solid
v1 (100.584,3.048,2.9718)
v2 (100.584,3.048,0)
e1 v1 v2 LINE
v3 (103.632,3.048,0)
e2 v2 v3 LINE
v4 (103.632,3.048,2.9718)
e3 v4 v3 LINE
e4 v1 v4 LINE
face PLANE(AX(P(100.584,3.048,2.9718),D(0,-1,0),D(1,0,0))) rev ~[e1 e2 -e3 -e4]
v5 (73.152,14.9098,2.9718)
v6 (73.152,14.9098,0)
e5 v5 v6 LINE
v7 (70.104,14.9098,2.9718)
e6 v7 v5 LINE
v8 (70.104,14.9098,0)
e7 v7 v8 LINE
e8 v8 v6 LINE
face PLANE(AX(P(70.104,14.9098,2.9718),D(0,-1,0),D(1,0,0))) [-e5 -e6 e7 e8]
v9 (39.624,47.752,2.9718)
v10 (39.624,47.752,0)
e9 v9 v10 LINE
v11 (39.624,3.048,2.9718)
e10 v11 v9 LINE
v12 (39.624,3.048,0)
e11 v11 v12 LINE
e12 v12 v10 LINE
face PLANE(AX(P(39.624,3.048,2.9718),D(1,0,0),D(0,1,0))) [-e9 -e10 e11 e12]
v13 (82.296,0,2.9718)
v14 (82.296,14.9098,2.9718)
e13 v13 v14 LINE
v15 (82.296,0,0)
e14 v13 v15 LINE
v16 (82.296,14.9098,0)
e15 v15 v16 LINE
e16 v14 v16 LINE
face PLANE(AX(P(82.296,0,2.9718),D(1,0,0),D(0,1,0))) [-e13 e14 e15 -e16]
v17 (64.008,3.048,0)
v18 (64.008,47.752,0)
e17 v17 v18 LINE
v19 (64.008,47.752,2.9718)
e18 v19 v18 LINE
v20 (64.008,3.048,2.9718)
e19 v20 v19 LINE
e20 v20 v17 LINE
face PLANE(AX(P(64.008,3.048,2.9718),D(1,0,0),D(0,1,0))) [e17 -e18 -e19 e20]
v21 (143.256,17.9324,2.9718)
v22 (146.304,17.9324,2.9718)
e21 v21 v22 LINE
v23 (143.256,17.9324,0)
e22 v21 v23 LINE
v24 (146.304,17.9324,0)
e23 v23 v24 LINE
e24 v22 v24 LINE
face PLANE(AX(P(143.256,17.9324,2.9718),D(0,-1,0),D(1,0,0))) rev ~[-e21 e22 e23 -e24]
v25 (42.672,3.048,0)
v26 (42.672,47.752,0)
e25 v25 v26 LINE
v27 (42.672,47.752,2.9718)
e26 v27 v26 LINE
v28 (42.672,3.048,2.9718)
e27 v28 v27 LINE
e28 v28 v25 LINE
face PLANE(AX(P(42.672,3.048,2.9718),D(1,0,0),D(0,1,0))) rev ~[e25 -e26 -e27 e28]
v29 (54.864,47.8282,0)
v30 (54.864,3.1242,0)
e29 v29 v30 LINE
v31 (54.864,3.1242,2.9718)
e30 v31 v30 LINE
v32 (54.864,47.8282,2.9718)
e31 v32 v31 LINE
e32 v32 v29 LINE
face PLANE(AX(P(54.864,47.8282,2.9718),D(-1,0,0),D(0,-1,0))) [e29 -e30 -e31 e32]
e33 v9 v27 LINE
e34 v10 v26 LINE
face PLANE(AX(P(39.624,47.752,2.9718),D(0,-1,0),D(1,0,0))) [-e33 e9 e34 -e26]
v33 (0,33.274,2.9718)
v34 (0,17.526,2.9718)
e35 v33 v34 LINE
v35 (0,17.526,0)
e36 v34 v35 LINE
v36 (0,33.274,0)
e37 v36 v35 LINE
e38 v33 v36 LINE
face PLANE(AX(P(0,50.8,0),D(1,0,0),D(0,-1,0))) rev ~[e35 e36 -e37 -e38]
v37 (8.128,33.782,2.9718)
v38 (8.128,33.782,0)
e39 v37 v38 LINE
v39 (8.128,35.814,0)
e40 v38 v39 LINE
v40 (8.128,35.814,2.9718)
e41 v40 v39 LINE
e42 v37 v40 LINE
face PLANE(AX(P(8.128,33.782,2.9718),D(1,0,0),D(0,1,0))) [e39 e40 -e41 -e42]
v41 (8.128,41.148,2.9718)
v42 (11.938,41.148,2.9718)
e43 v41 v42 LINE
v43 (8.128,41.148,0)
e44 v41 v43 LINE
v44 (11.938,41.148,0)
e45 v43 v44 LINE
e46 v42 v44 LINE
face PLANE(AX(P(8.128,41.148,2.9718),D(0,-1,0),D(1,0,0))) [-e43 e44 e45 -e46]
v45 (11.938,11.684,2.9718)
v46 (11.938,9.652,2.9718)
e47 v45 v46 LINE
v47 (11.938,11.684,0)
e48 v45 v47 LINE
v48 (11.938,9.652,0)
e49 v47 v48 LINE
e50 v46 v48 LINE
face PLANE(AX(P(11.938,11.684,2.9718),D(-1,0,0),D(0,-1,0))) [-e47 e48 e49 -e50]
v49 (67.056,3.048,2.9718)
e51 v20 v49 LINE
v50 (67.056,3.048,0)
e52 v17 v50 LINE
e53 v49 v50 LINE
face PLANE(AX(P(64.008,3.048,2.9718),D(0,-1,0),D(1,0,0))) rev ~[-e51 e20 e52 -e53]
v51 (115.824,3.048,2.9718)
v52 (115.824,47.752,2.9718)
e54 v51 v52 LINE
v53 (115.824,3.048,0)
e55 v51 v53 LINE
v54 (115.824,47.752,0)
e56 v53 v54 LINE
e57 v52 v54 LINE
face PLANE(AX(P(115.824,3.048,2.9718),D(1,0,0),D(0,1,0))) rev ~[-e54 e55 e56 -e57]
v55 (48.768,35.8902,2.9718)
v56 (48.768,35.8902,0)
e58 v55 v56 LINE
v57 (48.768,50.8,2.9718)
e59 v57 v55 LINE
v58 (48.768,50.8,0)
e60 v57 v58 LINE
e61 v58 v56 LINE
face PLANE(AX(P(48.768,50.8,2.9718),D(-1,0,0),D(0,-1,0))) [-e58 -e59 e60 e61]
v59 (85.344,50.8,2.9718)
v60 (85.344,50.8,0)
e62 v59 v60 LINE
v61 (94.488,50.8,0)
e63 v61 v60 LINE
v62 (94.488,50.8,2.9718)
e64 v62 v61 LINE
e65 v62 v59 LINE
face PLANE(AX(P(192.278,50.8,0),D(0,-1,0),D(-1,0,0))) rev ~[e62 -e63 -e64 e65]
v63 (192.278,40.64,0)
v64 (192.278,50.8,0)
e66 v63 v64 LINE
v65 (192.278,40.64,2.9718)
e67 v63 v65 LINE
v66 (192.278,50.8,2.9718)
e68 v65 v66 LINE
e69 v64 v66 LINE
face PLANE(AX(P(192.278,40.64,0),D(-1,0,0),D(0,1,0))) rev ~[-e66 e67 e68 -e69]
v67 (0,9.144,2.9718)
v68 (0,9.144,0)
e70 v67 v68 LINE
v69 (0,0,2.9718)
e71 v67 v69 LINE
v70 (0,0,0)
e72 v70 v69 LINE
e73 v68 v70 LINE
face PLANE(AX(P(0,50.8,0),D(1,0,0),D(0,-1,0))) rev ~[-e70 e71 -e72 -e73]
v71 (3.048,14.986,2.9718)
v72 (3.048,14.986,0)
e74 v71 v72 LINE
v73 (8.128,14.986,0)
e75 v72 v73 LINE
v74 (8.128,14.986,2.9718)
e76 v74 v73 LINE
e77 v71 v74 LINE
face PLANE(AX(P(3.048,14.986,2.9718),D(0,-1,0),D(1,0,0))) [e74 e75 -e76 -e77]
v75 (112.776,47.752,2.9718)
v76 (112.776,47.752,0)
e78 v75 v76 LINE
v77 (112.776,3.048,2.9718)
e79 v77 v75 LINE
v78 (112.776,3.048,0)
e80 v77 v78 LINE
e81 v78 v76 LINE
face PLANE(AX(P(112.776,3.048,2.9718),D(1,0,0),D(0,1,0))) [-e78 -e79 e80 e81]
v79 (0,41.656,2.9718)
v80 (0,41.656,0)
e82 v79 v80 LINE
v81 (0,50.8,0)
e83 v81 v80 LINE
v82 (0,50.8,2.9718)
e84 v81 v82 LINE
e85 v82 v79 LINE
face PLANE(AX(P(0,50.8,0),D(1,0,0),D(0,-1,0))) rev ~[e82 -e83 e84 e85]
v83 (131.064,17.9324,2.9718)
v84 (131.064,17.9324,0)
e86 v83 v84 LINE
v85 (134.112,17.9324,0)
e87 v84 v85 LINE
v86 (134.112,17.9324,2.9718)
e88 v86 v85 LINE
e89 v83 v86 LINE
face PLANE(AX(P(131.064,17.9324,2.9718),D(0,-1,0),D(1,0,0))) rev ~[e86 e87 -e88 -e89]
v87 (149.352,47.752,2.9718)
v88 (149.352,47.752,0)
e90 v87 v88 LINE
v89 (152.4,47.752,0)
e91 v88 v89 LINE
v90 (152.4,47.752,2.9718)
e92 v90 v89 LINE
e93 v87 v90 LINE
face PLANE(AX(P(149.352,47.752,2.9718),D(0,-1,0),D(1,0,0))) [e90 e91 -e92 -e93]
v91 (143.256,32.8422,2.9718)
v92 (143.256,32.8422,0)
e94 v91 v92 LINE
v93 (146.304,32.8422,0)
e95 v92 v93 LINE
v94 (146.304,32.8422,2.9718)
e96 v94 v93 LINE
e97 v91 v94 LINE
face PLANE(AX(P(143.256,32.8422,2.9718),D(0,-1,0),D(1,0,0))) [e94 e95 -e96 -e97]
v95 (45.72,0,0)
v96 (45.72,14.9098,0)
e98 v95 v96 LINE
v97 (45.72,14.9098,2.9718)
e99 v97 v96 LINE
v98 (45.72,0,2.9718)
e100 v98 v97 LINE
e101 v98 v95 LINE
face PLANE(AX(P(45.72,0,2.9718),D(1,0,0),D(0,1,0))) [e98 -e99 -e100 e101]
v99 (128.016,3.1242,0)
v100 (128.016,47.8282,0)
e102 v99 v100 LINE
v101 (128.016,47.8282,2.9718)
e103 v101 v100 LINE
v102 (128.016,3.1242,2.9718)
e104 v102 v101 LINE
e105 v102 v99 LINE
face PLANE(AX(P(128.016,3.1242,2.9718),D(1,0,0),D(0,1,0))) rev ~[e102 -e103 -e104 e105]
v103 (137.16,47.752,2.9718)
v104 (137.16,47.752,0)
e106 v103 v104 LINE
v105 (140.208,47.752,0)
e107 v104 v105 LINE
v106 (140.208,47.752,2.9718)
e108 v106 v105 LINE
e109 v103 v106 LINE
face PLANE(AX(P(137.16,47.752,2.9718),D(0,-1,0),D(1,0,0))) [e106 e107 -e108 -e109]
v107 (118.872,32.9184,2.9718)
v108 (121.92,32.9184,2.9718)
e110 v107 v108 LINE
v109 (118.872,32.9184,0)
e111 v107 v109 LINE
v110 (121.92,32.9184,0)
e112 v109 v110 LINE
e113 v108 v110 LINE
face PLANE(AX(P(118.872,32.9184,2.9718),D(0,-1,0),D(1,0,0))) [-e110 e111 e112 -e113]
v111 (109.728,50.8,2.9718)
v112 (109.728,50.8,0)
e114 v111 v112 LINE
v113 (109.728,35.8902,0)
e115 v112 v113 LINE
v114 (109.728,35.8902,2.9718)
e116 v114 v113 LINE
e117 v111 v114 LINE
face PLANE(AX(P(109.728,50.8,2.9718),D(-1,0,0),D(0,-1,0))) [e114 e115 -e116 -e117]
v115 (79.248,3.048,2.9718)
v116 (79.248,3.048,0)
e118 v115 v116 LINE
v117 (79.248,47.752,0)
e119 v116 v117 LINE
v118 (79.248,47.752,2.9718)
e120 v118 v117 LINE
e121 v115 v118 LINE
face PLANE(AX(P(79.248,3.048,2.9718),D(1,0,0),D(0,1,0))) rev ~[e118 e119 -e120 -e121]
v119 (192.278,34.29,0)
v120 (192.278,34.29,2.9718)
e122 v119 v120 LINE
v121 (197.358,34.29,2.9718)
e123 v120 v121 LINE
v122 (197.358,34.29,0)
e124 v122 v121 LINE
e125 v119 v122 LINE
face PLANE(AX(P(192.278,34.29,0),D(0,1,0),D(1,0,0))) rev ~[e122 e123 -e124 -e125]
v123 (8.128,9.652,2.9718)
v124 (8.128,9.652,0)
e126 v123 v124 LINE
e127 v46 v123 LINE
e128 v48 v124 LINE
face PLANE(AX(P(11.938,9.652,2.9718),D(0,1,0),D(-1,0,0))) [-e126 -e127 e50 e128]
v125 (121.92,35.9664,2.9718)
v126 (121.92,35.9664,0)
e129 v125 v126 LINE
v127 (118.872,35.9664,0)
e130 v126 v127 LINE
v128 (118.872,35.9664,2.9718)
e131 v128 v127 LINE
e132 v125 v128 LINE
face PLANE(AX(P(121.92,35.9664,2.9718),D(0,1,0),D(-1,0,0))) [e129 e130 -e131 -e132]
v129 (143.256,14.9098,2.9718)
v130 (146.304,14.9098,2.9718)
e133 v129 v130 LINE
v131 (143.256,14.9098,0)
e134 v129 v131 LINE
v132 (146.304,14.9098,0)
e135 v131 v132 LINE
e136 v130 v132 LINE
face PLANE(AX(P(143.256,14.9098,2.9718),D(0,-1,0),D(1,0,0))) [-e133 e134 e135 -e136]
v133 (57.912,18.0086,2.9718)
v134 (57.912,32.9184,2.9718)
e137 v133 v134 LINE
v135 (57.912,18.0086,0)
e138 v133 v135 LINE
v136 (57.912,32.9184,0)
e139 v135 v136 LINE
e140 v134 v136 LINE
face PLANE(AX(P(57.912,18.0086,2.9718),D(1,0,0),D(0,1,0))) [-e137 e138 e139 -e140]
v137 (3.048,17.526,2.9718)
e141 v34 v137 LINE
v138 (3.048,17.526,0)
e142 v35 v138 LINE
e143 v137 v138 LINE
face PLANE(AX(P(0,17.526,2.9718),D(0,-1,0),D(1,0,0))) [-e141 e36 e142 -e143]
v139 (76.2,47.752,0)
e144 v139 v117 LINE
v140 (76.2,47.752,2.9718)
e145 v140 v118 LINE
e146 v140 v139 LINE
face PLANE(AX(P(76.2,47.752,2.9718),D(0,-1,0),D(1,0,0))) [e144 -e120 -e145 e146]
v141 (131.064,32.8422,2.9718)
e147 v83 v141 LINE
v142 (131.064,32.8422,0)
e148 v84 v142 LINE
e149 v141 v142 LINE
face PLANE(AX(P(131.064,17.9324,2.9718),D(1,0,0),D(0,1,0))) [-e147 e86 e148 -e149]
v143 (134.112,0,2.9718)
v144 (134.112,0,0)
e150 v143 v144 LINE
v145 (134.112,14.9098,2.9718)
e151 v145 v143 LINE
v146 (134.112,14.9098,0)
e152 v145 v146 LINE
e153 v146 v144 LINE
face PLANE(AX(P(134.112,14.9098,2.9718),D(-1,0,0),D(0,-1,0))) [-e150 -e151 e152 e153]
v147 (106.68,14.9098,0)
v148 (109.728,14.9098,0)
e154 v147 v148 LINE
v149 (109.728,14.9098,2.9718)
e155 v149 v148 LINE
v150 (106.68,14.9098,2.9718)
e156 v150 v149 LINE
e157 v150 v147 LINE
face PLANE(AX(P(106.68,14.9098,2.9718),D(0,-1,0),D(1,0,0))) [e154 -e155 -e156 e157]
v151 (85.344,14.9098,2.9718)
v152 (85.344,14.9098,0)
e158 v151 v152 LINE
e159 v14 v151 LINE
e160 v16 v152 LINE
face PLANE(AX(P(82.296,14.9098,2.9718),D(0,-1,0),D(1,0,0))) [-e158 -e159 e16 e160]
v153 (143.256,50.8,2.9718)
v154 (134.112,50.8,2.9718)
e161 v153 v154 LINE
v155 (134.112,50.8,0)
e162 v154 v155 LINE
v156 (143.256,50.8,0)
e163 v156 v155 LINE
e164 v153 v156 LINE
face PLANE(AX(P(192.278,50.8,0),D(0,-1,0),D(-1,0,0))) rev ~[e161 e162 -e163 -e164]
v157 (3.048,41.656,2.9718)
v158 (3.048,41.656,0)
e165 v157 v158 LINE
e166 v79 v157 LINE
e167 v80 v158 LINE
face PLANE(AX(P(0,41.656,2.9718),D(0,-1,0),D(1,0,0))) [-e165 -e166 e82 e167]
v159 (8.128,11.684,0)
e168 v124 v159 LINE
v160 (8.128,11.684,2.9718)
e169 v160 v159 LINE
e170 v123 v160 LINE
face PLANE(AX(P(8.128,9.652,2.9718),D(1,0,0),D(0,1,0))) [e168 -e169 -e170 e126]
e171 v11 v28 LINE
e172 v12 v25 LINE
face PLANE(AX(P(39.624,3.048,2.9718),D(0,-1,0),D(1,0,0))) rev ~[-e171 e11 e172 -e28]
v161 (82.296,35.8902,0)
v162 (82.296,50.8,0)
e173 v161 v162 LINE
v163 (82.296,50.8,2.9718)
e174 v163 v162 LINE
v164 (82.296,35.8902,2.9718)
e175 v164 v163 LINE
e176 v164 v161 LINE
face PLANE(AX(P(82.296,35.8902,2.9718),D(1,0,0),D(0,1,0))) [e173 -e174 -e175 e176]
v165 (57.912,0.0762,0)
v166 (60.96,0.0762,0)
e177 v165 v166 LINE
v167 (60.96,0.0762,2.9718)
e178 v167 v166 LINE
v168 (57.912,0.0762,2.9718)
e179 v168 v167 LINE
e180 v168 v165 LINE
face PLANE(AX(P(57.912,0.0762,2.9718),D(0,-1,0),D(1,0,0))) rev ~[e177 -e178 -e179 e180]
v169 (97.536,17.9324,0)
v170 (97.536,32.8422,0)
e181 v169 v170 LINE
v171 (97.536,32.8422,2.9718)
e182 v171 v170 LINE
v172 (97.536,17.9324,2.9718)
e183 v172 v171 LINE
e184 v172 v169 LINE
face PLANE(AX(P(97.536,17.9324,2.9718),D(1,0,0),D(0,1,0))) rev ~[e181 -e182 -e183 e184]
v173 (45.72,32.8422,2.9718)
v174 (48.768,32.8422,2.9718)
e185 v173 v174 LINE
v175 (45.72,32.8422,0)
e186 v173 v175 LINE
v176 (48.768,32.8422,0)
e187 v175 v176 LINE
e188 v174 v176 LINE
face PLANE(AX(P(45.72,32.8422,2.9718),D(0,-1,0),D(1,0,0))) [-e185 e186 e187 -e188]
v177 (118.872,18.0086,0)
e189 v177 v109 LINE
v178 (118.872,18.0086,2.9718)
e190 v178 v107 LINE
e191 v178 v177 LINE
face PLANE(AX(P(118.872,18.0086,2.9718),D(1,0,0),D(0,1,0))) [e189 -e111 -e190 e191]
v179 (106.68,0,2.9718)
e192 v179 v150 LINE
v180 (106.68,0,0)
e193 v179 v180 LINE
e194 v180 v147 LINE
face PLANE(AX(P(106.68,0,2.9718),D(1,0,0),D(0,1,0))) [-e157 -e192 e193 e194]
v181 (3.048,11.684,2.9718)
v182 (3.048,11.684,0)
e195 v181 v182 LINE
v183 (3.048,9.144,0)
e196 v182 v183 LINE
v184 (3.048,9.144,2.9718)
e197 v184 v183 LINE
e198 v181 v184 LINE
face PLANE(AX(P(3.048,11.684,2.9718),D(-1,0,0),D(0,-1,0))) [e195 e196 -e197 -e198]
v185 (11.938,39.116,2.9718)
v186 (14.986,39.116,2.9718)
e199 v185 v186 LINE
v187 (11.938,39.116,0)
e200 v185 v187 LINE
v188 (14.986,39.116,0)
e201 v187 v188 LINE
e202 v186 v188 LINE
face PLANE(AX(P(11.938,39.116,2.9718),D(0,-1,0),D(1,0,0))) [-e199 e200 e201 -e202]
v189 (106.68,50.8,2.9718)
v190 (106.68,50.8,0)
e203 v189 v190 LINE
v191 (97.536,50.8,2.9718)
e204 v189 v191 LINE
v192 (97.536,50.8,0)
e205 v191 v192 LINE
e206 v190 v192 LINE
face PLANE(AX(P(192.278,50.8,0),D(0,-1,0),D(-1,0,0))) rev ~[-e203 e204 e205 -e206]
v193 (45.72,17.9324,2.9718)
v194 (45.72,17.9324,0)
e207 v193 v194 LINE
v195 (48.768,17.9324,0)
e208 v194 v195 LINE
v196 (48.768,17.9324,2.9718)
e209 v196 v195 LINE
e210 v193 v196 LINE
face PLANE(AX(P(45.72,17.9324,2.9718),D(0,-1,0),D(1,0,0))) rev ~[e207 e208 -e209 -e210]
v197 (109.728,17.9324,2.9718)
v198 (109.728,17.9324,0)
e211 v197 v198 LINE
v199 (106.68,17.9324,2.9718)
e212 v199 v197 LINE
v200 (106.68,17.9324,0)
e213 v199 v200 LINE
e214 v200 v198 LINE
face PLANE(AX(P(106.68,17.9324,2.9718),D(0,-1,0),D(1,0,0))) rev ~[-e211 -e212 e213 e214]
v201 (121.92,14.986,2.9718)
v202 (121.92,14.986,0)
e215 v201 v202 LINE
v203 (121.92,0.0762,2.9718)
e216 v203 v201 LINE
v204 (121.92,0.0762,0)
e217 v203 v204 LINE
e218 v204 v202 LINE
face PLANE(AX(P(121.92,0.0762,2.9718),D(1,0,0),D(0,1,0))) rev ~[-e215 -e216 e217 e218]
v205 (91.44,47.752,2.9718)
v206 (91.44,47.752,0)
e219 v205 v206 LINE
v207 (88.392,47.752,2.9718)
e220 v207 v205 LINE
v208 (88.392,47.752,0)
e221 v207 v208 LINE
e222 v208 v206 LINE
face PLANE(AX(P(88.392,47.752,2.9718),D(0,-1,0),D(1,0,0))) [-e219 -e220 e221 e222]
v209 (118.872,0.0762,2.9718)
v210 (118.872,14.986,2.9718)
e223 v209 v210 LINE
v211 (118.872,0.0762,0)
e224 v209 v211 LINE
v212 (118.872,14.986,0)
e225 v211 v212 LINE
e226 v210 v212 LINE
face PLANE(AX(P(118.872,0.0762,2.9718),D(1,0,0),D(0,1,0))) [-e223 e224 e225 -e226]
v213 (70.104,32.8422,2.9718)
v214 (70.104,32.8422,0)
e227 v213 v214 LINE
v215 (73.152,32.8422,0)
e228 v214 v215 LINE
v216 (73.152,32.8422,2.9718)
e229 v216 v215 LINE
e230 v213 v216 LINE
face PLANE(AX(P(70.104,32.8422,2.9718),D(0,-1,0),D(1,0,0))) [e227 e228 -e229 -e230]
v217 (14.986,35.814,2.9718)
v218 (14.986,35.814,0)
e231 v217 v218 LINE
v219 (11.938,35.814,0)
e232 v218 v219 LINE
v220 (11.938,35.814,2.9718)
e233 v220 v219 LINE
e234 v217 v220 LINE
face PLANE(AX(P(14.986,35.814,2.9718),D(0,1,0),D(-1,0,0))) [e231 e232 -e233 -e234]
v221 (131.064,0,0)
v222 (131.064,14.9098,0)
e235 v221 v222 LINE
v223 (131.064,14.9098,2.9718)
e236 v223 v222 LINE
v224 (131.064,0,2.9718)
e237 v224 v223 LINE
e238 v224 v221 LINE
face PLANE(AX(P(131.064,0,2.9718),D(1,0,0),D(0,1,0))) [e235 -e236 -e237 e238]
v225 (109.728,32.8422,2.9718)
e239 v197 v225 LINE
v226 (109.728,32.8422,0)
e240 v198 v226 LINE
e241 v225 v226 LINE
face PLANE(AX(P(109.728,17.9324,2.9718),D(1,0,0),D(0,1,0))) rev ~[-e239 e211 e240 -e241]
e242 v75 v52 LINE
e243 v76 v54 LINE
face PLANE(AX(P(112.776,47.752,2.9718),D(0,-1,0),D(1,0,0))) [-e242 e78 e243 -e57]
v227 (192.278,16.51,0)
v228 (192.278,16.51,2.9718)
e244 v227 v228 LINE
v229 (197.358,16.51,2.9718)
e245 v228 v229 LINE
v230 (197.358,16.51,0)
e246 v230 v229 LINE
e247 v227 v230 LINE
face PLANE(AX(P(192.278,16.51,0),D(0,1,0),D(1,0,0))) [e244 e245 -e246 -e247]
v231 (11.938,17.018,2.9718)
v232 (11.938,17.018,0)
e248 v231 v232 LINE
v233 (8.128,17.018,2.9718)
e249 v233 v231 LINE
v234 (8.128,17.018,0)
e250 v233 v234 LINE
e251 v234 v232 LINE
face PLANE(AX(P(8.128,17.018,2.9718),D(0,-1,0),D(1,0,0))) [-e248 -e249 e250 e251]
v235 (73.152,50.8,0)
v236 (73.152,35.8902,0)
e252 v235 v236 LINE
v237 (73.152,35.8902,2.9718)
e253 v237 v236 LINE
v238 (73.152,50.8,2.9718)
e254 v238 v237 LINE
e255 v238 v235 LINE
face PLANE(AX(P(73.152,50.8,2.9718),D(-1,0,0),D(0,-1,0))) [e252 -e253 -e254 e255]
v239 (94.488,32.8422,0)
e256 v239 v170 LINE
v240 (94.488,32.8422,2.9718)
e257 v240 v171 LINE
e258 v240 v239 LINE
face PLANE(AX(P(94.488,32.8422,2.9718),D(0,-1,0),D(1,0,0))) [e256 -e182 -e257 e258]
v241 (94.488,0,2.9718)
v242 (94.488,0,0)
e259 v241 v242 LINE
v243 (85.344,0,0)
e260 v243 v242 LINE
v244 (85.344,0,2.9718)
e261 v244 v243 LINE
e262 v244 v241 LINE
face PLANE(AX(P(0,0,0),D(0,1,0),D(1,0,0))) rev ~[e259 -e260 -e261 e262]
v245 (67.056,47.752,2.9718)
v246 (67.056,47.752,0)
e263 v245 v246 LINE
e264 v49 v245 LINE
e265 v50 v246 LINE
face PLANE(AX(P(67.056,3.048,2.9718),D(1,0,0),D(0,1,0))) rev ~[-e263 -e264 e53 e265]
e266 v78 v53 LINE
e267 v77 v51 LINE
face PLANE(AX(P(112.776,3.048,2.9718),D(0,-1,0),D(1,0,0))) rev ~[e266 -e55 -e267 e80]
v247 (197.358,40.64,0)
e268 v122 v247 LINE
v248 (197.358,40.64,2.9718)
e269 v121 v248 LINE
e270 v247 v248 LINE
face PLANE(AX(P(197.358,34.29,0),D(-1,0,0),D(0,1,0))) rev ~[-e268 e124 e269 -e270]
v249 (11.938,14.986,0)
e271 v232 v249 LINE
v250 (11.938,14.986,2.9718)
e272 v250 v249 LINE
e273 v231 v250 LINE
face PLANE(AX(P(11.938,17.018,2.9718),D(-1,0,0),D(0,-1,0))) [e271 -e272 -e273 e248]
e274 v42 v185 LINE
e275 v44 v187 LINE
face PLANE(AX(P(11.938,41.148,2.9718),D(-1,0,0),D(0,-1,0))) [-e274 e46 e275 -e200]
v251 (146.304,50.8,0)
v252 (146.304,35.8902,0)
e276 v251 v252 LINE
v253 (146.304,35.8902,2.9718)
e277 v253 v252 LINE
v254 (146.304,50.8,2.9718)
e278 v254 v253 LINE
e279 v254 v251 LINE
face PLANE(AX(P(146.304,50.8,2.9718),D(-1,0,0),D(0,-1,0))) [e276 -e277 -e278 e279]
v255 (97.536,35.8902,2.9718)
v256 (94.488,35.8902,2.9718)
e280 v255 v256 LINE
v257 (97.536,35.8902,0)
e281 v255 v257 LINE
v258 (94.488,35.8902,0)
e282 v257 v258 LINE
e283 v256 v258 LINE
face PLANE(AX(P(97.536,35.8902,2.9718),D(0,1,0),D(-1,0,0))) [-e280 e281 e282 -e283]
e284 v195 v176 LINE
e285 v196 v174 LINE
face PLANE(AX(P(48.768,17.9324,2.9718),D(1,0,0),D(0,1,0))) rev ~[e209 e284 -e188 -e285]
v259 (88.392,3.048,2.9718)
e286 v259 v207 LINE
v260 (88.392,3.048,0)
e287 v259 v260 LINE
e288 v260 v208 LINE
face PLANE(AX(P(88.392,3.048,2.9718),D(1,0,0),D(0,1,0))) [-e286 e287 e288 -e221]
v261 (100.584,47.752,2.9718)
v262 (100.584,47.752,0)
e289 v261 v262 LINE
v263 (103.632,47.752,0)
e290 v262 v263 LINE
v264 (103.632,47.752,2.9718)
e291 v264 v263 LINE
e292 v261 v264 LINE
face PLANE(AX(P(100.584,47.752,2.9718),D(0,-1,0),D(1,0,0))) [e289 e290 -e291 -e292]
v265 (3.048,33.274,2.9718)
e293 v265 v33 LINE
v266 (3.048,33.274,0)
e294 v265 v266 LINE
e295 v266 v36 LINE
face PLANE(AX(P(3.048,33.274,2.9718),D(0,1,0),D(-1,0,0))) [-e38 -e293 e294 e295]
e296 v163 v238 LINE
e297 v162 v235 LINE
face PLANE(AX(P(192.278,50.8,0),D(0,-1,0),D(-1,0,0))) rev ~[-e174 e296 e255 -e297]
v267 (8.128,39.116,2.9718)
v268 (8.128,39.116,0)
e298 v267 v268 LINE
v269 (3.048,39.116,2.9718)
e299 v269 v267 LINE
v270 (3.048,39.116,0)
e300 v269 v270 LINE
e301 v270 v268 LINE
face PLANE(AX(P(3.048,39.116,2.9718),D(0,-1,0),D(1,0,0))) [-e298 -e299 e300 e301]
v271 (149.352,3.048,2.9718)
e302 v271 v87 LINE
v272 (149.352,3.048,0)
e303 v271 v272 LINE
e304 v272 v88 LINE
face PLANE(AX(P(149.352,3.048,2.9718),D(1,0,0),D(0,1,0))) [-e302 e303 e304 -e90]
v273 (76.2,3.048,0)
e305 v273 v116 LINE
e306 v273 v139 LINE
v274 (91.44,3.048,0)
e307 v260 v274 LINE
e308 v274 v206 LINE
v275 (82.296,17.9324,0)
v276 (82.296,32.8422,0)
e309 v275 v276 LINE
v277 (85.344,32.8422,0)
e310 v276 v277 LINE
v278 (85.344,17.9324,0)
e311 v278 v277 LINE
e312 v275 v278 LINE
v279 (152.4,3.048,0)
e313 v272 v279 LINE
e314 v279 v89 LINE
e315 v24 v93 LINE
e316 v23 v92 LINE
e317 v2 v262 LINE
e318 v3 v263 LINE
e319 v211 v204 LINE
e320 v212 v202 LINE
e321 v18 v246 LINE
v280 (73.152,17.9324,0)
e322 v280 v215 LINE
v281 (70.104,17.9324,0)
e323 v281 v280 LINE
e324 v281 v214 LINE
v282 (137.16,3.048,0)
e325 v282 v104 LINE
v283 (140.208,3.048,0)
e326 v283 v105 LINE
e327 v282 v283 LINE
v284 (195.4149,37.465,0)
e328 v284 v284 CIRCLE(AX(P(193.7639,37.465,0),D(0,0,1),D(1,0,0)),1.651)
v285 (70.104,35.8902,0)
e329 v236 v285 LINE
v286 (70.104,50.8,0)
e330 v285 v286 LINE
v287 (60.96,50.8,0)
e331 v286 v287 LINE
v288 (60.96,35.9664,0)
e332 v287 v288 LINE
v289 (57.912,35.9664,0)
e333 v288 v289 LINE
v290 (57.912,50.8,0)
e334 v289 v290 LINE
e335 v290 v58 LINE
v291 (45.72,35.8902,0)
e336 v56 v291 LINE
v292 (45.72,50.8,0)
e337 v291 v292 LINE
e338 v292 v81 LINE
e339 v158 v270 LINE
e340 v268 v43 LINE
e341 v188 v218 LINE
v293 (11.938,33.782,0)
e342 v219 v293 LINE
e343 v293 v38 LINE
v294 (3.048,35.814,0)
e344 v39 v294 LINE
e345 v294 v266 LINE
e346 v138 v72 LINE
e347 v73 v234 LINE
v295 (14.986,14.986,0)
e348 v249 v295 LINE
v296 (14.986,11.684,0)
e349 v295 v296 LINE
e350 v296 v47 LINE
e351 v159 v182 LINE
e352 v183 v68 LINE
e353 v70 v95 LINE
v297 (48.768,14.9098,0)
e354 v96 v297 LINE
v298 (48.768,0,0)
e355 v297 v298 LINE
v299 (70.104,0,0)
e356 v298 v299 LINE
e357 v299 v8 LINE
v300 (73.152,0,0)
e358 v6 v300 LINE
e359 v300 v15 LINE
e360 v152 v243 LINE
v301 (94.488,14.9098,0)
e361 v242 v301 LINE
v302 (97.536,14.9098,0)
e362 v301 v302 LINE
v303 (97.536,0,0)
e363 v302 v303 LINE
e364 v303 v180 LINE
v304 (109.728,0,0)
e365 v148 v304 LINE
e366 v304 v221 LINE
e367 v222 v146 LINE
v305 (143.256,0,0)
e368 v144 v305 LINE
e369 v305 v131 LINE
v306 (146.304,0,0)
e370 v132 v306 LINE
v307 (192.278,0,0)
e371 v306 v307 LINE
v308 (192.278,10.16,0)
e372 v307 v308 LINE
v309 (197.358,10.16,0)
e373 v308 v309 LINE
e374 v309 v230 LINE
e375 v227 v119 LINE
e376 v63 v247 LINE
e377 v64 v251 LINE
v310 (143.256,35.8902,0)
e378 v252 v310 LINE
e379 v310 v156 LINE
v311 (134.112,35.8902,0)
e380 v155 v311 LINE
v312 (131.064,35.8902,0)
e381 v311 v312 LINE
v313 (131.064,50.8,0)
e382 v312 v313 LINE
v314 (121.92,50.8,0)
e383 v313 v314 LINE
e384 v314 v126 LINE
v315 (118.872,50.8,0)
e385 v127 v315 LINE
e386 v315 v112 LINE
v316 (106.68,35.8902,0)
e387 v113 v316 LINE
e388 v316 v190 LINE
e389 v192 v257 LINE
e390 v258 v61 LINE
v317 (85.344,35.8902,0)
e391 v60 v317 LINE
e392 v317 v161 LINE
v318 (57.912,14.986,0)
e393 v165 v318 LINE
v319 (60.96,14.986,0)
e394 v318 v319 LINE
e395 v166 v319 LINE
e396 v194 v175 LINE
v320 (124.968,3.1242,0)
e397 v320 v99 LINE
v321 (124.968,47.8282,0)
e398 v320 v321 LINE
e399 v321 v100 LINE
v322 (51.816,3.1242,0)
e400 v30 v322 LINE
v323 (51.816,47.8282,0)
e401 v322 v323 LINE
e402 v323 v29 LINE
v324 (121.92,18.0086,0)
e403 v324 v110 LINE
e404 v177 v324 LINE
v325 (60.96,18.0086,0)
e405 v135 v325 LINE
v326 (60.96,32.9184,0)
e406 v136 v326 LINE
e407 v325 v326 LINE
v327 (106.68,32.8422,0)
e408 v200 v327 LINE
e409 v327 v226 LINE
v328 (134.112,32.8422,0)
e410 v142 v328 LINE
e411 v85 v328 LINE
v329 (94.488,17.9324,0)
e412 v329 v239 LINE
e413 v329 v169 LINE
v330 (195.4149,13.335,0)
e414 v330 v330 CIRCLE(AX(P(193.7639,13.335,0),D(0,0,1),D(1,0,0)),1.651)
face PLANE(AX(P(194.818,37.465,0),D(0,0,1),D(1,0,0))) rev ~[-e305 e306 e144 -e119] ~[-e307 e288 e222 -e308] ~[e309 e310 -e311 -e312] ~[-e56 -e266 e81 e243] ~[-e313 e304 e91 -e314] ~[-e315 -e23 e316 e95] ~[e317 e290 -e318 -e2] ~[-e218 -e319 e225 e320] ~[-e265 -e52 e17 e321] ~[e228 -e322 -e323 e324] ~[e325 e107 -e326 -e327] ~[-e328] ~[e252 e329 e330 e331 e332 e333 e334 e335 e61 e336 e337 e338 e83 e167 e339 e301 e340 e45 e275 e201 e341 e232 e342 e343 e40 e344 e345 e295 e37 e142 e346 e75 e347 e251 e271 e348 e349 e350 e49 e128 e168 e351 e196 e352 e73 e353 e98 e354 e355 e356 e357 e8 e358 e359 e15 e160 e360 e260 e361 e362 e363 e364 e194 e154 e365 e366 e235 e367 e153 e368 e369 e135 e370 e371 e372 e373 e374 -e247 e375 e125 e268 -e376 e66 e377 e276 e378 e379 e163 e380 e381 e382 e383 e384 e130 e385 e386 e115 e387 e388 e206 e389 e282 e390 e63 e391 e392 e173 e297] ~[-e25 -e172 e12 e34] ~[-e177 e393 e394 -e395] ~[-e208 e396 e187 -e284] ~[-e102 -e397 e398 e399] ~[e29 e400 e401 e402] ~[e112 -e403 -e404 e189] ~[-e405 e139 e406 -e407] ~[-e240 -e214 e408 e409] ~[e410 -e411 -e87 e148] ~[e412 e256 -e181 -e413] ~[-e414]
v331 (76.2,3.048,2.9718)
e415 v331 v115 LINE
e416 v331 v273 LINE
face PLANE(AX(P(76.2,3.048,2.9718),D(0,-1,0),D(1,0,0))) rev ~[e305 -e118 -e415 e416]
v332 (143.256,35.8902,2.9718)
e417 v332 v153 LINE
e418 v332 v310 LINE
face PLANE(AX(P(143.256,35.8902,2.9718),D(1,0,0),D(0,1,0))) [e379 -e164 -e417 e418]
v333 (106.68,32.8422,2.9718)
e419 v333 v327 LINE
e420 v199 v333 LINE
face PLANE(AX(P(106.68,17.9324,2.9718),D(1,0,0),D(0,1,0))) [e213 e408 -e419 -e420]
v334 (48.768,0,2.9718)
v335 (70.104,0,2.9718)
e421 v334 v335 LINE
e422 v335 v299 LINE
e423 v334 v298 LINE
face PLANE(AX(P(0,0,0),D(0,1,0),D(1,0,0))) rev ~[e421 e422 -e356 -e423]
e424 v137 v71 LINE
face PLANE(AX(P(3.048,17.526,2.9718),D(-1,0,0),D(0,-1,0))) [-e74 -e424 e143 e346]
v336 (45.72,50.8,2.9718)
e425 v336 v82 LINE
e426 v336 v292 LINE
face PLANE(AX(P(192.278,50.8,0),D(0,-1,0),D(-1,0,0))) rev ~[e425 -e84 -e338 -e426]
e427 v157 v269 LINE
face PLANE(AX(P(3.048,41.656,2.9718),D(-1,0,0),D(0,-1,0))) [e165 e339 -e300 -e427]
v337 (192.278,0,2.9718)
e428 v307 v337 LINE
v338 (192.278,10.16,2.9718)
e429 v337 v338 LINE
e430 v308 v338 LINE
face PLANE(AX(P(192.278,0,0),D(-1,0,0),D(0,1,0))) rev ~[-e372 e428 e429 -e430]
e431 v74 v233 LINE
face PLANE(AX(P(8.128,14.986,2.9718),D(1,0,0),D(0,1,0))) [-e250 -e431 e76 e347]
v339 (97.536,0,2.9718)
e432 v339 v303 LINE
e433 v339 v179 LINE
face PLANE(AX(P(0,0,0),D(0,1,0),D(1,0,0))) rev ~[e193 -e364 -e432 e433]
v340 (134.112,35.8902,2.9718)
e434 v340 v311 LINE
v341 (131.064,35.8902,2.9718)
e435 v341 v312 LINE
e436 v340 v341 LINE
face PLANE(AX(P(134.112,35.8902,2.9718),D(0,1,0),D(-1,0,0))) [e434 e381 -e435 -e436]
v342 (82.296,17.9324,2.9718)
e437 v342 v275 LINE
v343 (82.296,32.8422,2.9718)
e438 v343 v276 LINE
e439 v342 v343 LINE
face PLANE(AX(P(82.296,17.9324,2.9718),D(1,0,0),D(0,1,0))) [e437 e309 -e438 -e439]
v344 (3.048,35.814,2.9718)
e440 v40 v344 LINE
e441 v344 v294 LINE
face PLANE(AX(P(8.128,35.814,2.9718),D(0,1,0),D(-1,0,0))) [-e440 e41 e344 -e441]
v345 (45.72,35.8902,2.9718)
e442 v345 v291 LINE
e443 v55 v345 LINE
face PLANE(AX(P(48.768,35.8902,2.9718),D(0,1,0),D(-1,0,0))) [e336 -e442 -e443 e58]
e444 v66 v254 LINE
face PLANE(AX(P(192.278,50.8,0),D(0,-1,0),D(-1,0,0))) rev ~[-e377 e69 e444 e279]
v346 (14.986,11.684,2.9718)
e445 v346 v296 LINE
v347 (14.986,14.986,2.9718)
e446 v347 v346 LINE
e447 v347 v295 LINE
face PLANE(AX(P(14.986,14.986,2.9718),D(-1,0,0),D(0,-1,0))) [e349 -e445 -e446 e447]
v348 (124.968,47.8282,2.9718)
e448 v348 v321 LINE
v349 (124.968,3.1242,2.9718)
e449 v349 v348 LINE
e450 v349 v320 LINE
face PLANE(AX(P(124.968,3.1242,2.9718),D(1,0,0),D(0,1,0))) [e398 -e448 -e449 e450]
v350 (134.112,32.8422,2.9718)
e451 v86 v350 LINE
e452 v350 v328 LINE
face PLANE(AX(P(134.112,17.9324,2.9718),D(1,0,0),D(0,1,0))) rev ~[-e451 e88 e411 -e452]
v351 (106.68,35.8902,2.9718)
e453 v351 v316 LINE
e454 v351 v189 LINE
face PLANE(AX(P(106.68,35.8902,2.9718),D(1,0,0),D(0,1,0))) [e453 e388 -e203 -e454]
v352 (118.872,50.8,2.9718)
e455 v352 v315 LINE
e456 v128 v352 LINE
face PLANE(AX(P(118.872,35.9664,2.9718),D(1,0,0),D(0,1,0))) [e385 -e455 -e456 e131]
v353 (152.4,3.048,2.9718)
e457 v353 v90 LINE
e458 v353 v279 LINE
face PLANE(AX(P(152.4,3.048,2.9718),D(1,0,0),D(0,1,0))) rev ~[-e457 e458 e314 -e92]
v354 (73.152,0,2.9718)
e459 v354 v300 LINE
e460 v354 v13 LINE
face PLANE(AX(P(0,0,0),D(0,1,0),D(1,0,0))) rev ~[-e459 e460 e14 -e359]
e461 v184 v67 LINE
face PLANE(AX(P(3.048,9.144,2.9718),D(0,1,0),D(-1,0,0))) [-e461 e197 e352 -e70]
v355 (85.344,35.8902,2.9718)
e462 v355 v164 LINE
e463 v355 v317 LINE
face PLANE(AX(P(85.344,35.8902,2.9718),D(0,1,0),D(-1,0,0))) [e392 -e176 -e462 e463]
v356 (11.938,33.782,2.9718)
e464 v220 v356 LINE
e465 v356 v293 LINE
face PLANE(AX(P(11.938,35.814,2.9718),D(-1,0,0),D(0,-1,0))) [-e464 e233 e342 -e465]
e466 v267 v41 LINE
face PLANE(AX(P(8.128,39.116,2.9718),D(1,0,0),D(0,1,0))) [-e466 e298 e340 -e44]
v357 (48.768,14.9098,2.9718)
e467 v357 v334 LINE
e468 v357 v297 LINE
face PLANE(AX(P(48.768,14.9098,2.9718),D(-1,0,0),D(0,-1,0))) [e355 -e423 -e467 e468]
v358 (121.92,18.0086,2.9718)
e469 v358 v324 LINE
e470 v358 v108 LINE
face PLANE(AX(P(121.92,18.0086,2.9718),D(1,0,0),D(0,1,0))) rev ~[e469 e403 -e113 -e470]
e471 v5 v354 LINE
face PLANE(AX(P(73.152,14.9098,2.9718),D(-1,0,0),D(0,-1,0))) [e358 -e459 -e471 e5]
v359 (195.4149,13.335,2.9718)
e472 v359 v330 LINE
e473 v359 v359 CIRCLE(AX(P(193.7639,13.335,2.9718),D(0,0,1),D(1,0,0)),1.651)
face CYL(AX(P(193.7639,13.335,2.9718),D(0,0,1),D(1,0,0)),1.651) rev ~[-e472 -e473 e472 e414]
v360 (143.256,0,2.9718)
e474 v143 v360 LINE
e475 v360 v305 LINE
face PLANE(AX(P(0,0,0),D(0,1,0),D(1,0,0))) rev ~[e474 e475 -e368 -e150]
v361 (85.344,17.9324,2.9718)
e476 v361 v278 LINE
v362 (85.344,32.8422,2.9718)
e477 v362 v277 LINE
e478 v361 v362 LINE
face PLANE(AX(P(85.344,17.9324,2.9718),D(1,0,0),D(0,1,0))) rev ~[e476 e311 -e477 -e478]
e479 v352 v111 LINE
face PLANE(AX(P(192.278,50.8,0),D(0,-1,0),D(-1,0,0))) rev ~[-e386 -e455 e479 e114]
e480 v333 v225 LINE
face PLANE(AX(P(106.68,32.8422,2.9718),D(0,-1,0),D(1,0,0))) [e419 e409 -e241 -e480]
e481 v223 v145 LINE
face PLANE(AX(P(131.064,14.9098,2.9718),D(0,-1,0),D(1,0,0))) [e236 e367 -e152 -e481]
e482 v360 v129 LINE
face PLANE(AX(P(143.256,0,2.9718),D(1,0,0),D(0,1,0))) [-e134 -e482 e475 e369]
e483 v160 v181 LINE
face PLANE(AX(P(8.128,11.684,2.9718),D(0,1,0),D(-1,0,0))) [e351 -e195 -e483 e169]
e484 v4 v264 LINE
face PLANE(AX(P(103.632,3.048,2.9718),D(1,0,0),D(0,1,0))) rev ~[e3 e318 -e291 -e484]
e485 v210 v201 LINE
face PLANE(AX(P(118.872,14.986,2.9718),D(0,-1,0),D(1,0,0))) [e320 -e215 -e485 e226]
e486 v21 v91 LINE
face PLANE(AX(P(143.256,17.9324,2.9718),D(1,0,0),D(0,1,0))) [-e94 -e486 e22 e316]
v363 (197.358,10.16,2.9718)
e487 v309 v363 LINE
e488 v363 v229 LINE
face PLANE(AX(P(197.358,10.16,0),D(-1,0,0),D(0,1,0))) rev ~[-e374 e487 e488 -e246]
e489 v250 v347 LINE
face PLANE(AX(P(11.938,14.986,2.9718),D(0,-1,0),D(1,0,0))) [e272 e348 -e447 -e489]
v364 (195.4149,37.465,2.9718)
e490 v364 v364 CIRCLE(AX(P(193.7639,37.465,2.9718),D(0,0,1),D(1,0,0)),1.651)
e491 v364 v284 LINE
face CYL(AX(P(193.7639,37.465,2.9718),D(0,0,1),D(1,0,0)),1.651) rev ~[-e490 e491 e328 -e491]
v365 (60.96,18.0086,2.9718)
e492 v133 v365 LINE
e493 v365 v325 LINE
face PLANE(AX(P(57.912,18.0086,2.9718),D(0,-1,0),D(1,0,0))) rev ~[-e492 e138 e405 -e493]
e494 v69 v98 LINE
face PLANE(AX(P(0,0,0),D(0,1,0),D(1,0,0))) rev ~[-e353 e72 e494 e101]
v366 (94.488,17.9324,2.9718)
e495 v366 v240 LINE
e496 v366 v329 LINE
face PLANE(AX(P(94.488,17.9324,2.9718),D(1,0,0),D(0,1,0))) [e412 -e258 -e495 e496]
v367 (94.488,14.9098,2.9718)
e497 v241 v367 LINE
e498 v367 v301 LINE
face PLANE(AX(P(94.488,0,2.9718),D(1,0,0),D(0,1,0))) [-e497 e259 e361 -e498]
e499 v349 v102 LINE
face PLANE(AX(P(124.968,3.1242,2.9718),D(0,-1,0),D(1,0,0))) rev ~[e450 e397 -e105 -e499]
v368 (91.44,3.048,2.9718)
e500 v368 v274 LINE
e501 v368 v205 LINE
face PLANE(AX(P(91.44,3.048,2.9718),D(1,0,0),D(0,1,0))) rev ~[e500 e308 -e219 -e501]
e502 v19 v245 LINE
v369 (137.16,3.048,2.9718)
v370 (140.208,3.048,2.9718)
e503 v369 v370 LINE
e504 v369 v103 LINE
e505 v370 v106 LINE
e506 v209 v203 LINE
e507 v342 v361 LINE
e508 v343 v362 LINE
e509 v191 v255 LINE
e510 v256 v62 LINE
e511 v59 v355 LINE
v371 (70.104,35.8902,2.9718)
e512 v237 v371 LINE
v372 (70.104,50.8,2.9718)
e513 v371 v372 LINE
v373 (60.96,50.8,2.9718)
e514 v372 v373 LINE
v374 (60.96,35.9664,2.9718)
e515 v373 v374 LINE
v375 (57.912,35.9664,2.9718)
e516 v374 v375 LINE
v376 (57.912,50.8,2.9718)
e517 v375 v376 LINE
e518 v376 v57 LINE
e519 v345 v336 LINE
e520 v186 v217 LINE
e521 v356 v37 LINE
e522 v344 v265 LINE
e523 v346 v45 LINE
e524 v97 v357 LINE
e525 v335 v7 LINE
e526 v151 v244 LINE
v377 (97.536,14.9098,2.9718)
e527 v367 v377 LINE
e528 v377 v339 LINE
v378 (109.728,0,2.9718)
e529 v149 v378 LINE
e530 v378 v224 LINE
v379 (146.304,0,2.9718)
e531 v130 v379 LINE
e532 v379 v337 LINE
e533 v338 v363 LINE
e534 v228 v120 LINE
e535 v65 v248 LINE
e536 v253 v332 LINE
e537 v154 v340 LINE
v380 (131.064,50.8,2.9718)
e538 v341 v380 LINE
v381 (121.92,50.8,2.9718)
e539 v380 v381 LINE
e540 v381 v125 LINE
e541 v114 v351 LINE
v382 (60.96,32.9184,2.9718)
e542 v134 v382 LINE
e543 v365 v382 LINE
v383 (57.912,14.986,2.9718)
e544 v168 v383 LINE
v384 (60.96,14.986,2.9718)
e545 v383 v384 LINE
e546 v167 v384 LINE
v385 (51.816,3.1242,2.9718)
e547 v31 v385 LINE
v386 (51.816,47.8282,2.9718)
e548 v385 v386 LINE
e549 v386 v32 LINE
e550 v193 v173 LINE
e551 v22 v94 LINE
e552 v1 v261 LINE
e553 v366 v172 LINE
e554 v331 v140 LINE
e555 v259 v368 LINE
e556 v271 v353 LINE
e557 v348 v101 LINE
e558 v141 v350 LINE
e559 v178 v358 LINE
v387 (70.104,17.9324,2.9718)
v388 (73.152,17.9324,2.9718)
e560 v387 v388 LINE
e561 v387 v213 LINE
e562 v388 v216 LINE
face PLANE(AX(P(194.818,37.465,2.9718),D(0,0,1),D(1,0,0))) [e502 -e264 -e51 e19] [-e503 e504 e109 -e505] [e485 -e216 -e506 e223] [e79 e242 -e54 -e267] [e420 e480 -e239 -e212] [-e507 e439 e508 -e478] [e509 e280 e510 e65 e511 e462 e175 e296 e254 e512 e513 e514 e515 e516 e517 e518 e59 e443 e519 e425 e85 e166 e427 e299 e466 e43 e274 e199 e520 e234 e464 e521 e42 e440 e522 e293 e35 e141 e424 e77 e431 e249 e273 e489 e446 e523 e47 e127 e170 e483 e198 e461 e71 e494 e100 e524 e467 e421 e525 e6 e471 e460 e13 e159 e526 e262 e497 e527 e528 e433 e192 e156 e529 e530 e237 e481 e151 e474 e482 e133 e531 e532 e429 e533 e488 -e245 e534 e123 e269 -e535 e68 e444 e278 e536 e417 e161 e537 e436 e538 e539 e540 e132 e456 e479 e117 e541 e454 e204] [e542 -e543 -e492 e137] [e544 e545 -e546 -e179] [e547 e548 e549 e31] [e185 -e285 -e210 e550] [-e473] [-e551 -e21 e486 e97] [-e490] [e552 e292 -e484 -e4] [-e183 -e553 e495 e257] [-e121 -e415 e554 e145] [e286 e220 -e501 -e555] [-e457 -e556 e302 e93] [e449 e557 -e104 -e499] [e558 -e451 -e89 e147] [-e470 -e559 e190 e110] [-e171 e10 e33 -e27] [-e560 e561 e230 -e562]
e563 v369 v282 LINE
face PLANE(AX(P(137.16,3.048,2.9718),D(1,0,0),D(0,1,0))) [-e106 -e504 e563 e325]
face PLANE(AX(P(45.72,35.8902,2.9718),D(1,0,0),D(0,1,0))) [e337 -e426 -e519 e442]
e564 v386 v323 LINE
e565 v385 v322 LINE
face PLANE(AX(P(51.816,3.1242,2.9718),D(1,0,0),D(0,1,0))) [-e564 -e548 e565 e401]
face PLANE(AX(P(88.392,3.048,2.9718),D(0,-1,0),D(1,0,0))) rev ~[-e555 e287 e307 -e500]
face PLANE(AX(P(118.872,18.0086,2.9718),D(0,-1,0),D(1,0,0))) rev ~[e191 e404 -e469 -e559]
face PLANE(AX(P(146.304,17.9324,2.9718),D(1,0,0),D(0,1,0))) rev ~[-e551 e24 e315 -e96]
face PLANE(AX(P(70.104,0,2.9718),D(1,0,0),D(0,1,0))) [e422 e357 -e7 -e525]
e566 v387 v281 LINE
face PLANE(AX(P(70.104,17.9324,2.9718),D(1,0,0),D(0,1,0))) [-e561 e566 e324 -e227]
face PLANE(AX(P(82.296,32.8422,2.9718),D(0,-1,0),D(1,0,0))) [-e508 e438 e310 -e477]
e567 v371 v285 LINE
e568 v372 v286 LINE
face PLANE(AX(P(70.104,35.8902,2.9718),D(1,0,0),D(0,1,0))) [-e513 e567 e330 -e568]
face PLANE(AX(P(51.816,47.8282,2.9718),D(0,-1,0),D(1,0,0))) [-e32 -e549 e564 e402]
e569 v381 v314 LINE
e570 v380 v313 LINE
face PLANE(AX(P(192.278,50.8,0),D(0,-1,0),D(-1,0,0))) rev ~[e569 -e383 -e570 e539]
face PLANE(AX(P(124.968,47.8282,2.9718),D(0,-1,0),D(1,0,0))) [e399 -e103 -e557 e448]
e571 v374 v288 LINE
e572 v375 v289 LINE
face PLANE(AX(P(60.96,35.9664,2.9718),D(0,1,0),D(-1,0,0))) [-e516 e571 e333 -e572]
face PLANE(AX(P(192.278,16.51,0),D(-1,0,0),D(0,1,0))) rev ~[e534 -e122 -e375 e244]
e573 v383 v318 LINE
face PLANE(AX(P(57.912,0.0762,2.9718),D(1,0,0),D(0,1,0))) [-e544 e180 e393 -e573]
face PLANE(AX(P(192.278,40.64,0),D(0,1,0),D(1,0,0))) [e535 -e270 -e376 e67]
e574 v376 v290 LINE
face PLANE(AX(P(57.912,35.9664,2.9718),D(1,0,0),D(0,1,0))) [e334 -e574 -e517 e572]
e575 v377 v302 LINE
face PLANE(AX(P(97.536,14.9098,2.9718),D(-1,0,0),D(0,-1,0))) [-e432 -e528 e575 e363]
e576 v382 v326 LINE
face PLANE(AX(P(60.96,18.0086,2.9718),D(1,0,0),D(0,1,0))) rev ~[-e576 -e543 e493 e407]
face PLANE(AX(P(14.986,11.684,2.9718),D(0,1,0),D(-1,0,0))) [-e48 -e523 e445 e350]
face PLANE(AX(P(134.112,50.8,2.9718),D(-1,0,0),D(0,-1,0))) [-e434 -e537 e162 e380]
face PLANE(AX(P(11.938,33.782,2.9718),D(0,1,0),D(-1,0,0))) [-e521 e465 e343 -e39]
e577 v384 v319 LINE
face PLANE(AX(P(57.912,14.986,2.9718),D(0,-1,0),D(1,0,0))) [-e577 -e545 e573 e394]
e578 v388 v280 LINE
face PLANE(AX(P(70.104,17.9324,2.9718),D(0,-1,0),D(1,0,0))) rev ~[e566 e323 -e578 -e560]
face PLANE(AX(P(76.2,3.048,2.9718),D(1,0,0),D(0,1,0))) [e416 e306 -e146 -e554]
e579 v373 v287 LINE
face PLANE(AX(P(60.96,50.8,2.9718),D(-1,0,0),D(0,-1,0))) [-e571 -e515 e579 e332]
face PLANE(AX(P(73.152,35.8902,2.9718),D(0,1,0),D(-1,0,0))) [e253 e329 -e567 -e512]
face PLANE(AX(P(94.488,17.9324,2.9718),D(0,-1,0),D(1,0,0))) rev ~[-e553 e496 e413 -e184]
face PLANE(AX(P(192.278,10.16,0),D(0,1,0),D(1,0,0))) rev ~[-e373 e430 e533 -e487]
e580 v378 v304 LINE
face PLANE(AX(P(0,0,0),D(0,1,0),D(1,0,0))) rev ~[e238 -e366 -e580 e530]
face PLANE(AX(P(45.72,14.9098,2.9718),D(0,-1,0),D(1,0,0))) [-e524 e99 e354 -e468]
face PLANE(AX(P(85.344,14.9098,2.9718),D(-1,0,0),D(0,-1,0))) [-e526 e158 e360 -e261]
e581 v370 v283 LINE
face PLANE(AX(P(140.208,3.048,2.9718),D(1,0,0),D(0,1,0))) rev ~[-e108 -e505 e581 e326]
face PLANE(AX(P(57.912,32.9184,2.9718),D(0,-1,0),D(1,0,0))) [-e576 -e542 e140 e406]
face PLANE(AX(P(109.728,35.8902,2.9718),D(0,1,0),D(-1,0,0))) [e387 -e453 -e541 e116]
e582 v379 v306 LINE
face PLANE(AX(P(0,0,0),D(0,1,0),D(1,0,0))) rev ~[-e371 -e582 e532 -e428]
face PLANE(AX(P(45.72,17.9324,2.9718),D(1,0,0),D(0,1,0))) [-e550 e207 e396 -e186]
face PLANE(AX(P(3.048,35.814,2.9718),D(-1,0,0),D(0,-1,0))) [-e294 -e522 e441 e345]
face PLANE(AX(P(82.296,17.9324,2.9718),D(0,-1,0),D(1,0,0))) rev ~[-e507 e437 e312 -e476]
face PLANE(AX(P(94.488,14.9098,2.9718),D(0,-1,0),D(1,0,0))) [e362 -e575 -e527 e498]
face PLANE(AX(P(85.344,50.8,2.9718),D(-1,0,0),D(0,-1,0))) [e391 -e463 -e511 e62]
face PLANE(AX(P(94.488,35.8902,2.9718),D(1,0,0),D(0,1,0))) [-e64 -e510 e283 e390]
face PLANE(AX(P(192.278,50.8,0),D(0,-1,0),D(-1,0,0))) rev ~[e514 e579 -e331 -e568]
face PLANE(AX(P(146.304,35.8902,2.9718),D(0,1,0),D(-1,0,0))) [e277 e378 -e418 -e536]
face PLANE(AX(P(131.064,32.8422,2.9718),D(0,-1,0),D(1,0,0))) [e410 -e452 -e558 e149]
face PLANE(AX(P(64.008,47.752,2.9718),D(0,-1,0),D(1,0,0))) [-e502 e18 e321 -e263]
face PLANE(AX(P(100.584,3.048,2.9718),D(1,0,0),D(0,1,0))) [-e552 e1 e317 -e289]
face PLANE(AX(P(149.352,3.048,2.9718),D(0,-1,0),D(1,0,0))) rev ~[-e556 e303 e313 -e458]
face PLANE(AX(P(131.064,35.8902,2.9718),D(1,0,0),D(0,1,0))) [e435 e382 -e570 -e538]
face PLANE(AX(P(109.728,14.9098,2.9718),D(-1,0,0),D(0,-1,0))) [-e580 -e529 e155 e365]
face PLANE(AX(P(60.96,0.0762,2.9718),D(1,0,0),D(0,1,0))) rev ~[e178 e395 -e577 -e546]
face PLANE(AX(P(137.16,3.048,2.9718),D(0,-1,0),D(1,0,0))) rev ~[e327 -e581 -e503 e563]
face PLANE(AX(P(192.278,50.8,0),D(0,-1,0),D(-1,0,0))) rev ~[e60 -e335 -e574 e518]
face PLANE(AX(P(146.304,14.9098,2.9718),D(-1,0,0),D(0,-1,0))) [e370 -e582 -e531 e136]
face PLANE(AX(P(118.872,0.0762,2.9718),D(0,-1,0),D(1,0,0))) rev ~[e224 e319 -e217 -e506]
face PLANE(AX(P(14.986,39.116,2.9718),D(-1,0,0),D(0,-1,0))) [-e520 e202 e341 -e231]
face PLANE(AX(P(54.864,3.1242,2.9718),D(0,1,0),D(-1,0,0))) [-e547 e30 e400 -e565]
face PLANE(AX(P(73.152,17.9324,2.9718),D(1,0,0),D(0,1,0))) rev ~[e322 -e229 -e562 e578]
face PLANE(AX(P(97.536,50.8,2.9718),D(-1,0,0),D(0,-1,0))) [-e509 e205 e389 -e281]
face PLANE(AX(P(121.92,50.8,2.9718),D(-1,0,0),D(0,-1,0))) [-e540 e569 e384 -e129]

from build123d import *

# Parameters (mm, degrees)
F0_W     = 5.08
F0_H     = 6.35
F1_DEPTH = 2.9718
F2_W     = 3.048
F2_H     = 14.9098
F2_H_2   = 44.704
F2_R     = 1.651
F3_DEPTH = 25.4


with BuildPart() as f1:
    # F0 (on Top) → F1 (new body)
    with BuildSketch(Plane.XY):
        with Locations((194.818, 37.465)):
            Rectangle(F0_W, F0_H)
        with Locations((194.818, 13.335)):
            Rectangle(F0_W, F0_H)
        Polygon((0, 50.8), (0, 0), (192.278, 0), (192.278, 10.16), (192.278, 16.51), (192.278, 34.29), (192.278, 40.64), (192.278, 50.8), align=None)
    extrude(amount=F1_DEPTH)

    # F2 (on face) → F3 (intersect)
    with BuildSketch(Plane.XY.offset(2.9718)):
        Polygon((0, 50.8), (0, 41.656), (3.048, 41.656), (3.048, 39.116), (8.128, 39.116), (8.128, 41.148), (11.938, 41.148), (11.938, 39.116), (14.986, 39.116), (14.986, 35.814), (11.938, 35.814), (11.938, 33.782), (8.128, 33.782), (8.128, 35.814), (3.048, 35.814), (3.048, 33.274), (0, 33.274), (0, 17.526), (3.048, 17.526), (3.048, 14.986), (8.128, 14.986), (8.128, 17.018), (11.938, 17.018), (11.938, 14.986), (14.986, 14.986), (14.986, 11.684), (11.938, 11.684), (11.938, 9.652), (8.128, 9.652), (8.128, 11.684), (3.048, 11.684), (3.048, 9.144), (0, 9.144), (0, 0), (45.72, 0), (45.72, 14.9098), (48.768, 14.9098), (48.768, 0), (70.104, 0), (70.104, 14.9098), (73.152, 14.9098), (73.152, 0), (82.296, 0), (82.296, 14.9098), (85.344, 14.9098), (85.344, 0), (94.488, 0), (94.488, 14.9098), (97.536, 14.9098), (97.536, 0), (106.68, 0), (106.68, 14.9098), (109.728, 14.9098), (109.728, 0), (131.064, 0), (131.064, 14.9098), (134.112, 14.9098), (134.112, 0), (143.256, 0), (143.256, 14.9098), (146.304, 14.9098), (146.304, 0), (192.278, 0), (192.278, 10.16), (197.358, 10.16), (197.358, 16.51), (192.278, 16.51), (192.278, 34.29), (197.358, 34.29), (197.358, 40.64), (192.278, 40.64), (192.278, 50.8), (146.304, 50.8), (146.304, 35.8902), (143.256, 35.8902), (143.256, 50.8), (134.112, 50.8), (134.112, 35.8902), (131.064, 35.8902), (131.064, 50.8), (121.92, 50.8), (121.92, 35.9664), (118.872, 35.9664), (118.872, 50.8), (109.728, 50.8), (109.728, 35.8902), (106.68, 35.8902), (106.68, 50.8), (97.536, 50.8), (97.536, 35.8902), (94.488, 35.8902), (94.488, 50.8), (85.344, 50.8), (85.344, 35.8902), (82.296, 35.8902), (82.296, 50.8), (73.152, 50.8), (73.152, 35.8902), (70.104, 35.8902), (70.104, 50.8), (60.96, 50.8), (60.96, 35.9664), (57.912, 35.9664), (57.912, 50.8), (48.768, 50.8), (48.768, 35.8902), (45.72, 35.8902), (45.72, 50.8), align=None)
        with Locations((59.436, 7.5311)):
            Rectangle(F2_W, F2_H, mode=Mode.SUBTRACT)
        with Locations((41.148, 25.4)):
            Rectangle(F2_W, F2_H_2, mode=Mode.SUBTRACT)
        with Locations((47.244, 25.3873)):
            Rectangle(F2_W, F2_H, mode=Mode.SUBTRACT)
        with Locations((65.532, 25.4)):
            Rectangle(F2_W, F2_H_2, mode=Mode.SUBTRACT)
        with Locations((71.628, 25.3873)):
            Rectangle(F2_W, F2_H, mode=Mode.SUBTRACT)
        with Locations((77.724, 25.4)):
            Rectangle(F2_W, F2_H_2, mode=Mode.SUBTRACT)
        with Locations((83.82, 25.3873)):
            Rectangle(F2_W, F2_H, mode=Mode.SUBTRACT)
        with Locations((89.916, 25.4)):
            Rectangle(F2_W, F2_H_2, mode=Mode.SUBTRACT)
        with Locations((96.012, 25.3873)):
            Rectangle(F2_W, F2_H, mode=Mode.SUBTRACT)
        with Locations((120.396, 7.5311)):
            Rectangle(F2_W, F2_H, mode=Mode.SUBTRACT)
        with Locations((102.108, 25.4)):
            Rectangle(F2_W, F2_H_2, mode=Mode.SUBTRACT)
        with Locations((108.204, 25.3873)):
            Rectangle(F2_W, F2_H, mode=Mode.SUBTRACT)
        with Locations((114.3, 25.4)):
            Rectangle(F2_W, F2_H_2, mode=Mode.SUBTRACT)
        with Locations((132.588, 25.3873)):
            Rectangle(F2_W, F2_H, mode=Mode.SUBTRACT)
        with Locations((138.684, 25.4)):
            Rectangle(F2_W, F2_H_2, mode=Mode.SUBTRACT)
        with Locations((144.78, 25.3873)):
            Rectangle(F2_W, F2_H, mode=Mode.SUBTRACT)
        with Locations((193.7639, 13.335)):
            Circle(F2_R, mode=Mode.SUBTRACT)
        with Locations((150.876, 25.4)):
            Rectangle(F2_W, F2_H_2, mode=Mode.SUBTRACT)
        Polygon((54.864, 3.1242), (51.816, 3.1242), (51.816, 17.9324), (51.816, 32.8422), (51.816, 47.8282), (54.864, 47.8282), align=None, mode=Mode.SUBTRACT)
        with Locations((59.436, 25.4635)):
            Rectangle(F2_W, F2_H, mode=Mode.SUBTRACT)
        with Locations((120.396, 25.4635)):
            Rectangle(F2_W, F2_H, mode=Mode.SUBTRACT)
        with Locations((126.492, 25.4762)):
            Rectangle(F2_W, F2_H_2, mode=Mode.SUBTRACT)
        with Locations((193.7639, 37.465)):
            Circle(F2_R, mode=Mode.SUBTRACT)
    extrude(amount=-F3_DEPTH, mode=Mode.INTERSECT)


solid = f1.part
